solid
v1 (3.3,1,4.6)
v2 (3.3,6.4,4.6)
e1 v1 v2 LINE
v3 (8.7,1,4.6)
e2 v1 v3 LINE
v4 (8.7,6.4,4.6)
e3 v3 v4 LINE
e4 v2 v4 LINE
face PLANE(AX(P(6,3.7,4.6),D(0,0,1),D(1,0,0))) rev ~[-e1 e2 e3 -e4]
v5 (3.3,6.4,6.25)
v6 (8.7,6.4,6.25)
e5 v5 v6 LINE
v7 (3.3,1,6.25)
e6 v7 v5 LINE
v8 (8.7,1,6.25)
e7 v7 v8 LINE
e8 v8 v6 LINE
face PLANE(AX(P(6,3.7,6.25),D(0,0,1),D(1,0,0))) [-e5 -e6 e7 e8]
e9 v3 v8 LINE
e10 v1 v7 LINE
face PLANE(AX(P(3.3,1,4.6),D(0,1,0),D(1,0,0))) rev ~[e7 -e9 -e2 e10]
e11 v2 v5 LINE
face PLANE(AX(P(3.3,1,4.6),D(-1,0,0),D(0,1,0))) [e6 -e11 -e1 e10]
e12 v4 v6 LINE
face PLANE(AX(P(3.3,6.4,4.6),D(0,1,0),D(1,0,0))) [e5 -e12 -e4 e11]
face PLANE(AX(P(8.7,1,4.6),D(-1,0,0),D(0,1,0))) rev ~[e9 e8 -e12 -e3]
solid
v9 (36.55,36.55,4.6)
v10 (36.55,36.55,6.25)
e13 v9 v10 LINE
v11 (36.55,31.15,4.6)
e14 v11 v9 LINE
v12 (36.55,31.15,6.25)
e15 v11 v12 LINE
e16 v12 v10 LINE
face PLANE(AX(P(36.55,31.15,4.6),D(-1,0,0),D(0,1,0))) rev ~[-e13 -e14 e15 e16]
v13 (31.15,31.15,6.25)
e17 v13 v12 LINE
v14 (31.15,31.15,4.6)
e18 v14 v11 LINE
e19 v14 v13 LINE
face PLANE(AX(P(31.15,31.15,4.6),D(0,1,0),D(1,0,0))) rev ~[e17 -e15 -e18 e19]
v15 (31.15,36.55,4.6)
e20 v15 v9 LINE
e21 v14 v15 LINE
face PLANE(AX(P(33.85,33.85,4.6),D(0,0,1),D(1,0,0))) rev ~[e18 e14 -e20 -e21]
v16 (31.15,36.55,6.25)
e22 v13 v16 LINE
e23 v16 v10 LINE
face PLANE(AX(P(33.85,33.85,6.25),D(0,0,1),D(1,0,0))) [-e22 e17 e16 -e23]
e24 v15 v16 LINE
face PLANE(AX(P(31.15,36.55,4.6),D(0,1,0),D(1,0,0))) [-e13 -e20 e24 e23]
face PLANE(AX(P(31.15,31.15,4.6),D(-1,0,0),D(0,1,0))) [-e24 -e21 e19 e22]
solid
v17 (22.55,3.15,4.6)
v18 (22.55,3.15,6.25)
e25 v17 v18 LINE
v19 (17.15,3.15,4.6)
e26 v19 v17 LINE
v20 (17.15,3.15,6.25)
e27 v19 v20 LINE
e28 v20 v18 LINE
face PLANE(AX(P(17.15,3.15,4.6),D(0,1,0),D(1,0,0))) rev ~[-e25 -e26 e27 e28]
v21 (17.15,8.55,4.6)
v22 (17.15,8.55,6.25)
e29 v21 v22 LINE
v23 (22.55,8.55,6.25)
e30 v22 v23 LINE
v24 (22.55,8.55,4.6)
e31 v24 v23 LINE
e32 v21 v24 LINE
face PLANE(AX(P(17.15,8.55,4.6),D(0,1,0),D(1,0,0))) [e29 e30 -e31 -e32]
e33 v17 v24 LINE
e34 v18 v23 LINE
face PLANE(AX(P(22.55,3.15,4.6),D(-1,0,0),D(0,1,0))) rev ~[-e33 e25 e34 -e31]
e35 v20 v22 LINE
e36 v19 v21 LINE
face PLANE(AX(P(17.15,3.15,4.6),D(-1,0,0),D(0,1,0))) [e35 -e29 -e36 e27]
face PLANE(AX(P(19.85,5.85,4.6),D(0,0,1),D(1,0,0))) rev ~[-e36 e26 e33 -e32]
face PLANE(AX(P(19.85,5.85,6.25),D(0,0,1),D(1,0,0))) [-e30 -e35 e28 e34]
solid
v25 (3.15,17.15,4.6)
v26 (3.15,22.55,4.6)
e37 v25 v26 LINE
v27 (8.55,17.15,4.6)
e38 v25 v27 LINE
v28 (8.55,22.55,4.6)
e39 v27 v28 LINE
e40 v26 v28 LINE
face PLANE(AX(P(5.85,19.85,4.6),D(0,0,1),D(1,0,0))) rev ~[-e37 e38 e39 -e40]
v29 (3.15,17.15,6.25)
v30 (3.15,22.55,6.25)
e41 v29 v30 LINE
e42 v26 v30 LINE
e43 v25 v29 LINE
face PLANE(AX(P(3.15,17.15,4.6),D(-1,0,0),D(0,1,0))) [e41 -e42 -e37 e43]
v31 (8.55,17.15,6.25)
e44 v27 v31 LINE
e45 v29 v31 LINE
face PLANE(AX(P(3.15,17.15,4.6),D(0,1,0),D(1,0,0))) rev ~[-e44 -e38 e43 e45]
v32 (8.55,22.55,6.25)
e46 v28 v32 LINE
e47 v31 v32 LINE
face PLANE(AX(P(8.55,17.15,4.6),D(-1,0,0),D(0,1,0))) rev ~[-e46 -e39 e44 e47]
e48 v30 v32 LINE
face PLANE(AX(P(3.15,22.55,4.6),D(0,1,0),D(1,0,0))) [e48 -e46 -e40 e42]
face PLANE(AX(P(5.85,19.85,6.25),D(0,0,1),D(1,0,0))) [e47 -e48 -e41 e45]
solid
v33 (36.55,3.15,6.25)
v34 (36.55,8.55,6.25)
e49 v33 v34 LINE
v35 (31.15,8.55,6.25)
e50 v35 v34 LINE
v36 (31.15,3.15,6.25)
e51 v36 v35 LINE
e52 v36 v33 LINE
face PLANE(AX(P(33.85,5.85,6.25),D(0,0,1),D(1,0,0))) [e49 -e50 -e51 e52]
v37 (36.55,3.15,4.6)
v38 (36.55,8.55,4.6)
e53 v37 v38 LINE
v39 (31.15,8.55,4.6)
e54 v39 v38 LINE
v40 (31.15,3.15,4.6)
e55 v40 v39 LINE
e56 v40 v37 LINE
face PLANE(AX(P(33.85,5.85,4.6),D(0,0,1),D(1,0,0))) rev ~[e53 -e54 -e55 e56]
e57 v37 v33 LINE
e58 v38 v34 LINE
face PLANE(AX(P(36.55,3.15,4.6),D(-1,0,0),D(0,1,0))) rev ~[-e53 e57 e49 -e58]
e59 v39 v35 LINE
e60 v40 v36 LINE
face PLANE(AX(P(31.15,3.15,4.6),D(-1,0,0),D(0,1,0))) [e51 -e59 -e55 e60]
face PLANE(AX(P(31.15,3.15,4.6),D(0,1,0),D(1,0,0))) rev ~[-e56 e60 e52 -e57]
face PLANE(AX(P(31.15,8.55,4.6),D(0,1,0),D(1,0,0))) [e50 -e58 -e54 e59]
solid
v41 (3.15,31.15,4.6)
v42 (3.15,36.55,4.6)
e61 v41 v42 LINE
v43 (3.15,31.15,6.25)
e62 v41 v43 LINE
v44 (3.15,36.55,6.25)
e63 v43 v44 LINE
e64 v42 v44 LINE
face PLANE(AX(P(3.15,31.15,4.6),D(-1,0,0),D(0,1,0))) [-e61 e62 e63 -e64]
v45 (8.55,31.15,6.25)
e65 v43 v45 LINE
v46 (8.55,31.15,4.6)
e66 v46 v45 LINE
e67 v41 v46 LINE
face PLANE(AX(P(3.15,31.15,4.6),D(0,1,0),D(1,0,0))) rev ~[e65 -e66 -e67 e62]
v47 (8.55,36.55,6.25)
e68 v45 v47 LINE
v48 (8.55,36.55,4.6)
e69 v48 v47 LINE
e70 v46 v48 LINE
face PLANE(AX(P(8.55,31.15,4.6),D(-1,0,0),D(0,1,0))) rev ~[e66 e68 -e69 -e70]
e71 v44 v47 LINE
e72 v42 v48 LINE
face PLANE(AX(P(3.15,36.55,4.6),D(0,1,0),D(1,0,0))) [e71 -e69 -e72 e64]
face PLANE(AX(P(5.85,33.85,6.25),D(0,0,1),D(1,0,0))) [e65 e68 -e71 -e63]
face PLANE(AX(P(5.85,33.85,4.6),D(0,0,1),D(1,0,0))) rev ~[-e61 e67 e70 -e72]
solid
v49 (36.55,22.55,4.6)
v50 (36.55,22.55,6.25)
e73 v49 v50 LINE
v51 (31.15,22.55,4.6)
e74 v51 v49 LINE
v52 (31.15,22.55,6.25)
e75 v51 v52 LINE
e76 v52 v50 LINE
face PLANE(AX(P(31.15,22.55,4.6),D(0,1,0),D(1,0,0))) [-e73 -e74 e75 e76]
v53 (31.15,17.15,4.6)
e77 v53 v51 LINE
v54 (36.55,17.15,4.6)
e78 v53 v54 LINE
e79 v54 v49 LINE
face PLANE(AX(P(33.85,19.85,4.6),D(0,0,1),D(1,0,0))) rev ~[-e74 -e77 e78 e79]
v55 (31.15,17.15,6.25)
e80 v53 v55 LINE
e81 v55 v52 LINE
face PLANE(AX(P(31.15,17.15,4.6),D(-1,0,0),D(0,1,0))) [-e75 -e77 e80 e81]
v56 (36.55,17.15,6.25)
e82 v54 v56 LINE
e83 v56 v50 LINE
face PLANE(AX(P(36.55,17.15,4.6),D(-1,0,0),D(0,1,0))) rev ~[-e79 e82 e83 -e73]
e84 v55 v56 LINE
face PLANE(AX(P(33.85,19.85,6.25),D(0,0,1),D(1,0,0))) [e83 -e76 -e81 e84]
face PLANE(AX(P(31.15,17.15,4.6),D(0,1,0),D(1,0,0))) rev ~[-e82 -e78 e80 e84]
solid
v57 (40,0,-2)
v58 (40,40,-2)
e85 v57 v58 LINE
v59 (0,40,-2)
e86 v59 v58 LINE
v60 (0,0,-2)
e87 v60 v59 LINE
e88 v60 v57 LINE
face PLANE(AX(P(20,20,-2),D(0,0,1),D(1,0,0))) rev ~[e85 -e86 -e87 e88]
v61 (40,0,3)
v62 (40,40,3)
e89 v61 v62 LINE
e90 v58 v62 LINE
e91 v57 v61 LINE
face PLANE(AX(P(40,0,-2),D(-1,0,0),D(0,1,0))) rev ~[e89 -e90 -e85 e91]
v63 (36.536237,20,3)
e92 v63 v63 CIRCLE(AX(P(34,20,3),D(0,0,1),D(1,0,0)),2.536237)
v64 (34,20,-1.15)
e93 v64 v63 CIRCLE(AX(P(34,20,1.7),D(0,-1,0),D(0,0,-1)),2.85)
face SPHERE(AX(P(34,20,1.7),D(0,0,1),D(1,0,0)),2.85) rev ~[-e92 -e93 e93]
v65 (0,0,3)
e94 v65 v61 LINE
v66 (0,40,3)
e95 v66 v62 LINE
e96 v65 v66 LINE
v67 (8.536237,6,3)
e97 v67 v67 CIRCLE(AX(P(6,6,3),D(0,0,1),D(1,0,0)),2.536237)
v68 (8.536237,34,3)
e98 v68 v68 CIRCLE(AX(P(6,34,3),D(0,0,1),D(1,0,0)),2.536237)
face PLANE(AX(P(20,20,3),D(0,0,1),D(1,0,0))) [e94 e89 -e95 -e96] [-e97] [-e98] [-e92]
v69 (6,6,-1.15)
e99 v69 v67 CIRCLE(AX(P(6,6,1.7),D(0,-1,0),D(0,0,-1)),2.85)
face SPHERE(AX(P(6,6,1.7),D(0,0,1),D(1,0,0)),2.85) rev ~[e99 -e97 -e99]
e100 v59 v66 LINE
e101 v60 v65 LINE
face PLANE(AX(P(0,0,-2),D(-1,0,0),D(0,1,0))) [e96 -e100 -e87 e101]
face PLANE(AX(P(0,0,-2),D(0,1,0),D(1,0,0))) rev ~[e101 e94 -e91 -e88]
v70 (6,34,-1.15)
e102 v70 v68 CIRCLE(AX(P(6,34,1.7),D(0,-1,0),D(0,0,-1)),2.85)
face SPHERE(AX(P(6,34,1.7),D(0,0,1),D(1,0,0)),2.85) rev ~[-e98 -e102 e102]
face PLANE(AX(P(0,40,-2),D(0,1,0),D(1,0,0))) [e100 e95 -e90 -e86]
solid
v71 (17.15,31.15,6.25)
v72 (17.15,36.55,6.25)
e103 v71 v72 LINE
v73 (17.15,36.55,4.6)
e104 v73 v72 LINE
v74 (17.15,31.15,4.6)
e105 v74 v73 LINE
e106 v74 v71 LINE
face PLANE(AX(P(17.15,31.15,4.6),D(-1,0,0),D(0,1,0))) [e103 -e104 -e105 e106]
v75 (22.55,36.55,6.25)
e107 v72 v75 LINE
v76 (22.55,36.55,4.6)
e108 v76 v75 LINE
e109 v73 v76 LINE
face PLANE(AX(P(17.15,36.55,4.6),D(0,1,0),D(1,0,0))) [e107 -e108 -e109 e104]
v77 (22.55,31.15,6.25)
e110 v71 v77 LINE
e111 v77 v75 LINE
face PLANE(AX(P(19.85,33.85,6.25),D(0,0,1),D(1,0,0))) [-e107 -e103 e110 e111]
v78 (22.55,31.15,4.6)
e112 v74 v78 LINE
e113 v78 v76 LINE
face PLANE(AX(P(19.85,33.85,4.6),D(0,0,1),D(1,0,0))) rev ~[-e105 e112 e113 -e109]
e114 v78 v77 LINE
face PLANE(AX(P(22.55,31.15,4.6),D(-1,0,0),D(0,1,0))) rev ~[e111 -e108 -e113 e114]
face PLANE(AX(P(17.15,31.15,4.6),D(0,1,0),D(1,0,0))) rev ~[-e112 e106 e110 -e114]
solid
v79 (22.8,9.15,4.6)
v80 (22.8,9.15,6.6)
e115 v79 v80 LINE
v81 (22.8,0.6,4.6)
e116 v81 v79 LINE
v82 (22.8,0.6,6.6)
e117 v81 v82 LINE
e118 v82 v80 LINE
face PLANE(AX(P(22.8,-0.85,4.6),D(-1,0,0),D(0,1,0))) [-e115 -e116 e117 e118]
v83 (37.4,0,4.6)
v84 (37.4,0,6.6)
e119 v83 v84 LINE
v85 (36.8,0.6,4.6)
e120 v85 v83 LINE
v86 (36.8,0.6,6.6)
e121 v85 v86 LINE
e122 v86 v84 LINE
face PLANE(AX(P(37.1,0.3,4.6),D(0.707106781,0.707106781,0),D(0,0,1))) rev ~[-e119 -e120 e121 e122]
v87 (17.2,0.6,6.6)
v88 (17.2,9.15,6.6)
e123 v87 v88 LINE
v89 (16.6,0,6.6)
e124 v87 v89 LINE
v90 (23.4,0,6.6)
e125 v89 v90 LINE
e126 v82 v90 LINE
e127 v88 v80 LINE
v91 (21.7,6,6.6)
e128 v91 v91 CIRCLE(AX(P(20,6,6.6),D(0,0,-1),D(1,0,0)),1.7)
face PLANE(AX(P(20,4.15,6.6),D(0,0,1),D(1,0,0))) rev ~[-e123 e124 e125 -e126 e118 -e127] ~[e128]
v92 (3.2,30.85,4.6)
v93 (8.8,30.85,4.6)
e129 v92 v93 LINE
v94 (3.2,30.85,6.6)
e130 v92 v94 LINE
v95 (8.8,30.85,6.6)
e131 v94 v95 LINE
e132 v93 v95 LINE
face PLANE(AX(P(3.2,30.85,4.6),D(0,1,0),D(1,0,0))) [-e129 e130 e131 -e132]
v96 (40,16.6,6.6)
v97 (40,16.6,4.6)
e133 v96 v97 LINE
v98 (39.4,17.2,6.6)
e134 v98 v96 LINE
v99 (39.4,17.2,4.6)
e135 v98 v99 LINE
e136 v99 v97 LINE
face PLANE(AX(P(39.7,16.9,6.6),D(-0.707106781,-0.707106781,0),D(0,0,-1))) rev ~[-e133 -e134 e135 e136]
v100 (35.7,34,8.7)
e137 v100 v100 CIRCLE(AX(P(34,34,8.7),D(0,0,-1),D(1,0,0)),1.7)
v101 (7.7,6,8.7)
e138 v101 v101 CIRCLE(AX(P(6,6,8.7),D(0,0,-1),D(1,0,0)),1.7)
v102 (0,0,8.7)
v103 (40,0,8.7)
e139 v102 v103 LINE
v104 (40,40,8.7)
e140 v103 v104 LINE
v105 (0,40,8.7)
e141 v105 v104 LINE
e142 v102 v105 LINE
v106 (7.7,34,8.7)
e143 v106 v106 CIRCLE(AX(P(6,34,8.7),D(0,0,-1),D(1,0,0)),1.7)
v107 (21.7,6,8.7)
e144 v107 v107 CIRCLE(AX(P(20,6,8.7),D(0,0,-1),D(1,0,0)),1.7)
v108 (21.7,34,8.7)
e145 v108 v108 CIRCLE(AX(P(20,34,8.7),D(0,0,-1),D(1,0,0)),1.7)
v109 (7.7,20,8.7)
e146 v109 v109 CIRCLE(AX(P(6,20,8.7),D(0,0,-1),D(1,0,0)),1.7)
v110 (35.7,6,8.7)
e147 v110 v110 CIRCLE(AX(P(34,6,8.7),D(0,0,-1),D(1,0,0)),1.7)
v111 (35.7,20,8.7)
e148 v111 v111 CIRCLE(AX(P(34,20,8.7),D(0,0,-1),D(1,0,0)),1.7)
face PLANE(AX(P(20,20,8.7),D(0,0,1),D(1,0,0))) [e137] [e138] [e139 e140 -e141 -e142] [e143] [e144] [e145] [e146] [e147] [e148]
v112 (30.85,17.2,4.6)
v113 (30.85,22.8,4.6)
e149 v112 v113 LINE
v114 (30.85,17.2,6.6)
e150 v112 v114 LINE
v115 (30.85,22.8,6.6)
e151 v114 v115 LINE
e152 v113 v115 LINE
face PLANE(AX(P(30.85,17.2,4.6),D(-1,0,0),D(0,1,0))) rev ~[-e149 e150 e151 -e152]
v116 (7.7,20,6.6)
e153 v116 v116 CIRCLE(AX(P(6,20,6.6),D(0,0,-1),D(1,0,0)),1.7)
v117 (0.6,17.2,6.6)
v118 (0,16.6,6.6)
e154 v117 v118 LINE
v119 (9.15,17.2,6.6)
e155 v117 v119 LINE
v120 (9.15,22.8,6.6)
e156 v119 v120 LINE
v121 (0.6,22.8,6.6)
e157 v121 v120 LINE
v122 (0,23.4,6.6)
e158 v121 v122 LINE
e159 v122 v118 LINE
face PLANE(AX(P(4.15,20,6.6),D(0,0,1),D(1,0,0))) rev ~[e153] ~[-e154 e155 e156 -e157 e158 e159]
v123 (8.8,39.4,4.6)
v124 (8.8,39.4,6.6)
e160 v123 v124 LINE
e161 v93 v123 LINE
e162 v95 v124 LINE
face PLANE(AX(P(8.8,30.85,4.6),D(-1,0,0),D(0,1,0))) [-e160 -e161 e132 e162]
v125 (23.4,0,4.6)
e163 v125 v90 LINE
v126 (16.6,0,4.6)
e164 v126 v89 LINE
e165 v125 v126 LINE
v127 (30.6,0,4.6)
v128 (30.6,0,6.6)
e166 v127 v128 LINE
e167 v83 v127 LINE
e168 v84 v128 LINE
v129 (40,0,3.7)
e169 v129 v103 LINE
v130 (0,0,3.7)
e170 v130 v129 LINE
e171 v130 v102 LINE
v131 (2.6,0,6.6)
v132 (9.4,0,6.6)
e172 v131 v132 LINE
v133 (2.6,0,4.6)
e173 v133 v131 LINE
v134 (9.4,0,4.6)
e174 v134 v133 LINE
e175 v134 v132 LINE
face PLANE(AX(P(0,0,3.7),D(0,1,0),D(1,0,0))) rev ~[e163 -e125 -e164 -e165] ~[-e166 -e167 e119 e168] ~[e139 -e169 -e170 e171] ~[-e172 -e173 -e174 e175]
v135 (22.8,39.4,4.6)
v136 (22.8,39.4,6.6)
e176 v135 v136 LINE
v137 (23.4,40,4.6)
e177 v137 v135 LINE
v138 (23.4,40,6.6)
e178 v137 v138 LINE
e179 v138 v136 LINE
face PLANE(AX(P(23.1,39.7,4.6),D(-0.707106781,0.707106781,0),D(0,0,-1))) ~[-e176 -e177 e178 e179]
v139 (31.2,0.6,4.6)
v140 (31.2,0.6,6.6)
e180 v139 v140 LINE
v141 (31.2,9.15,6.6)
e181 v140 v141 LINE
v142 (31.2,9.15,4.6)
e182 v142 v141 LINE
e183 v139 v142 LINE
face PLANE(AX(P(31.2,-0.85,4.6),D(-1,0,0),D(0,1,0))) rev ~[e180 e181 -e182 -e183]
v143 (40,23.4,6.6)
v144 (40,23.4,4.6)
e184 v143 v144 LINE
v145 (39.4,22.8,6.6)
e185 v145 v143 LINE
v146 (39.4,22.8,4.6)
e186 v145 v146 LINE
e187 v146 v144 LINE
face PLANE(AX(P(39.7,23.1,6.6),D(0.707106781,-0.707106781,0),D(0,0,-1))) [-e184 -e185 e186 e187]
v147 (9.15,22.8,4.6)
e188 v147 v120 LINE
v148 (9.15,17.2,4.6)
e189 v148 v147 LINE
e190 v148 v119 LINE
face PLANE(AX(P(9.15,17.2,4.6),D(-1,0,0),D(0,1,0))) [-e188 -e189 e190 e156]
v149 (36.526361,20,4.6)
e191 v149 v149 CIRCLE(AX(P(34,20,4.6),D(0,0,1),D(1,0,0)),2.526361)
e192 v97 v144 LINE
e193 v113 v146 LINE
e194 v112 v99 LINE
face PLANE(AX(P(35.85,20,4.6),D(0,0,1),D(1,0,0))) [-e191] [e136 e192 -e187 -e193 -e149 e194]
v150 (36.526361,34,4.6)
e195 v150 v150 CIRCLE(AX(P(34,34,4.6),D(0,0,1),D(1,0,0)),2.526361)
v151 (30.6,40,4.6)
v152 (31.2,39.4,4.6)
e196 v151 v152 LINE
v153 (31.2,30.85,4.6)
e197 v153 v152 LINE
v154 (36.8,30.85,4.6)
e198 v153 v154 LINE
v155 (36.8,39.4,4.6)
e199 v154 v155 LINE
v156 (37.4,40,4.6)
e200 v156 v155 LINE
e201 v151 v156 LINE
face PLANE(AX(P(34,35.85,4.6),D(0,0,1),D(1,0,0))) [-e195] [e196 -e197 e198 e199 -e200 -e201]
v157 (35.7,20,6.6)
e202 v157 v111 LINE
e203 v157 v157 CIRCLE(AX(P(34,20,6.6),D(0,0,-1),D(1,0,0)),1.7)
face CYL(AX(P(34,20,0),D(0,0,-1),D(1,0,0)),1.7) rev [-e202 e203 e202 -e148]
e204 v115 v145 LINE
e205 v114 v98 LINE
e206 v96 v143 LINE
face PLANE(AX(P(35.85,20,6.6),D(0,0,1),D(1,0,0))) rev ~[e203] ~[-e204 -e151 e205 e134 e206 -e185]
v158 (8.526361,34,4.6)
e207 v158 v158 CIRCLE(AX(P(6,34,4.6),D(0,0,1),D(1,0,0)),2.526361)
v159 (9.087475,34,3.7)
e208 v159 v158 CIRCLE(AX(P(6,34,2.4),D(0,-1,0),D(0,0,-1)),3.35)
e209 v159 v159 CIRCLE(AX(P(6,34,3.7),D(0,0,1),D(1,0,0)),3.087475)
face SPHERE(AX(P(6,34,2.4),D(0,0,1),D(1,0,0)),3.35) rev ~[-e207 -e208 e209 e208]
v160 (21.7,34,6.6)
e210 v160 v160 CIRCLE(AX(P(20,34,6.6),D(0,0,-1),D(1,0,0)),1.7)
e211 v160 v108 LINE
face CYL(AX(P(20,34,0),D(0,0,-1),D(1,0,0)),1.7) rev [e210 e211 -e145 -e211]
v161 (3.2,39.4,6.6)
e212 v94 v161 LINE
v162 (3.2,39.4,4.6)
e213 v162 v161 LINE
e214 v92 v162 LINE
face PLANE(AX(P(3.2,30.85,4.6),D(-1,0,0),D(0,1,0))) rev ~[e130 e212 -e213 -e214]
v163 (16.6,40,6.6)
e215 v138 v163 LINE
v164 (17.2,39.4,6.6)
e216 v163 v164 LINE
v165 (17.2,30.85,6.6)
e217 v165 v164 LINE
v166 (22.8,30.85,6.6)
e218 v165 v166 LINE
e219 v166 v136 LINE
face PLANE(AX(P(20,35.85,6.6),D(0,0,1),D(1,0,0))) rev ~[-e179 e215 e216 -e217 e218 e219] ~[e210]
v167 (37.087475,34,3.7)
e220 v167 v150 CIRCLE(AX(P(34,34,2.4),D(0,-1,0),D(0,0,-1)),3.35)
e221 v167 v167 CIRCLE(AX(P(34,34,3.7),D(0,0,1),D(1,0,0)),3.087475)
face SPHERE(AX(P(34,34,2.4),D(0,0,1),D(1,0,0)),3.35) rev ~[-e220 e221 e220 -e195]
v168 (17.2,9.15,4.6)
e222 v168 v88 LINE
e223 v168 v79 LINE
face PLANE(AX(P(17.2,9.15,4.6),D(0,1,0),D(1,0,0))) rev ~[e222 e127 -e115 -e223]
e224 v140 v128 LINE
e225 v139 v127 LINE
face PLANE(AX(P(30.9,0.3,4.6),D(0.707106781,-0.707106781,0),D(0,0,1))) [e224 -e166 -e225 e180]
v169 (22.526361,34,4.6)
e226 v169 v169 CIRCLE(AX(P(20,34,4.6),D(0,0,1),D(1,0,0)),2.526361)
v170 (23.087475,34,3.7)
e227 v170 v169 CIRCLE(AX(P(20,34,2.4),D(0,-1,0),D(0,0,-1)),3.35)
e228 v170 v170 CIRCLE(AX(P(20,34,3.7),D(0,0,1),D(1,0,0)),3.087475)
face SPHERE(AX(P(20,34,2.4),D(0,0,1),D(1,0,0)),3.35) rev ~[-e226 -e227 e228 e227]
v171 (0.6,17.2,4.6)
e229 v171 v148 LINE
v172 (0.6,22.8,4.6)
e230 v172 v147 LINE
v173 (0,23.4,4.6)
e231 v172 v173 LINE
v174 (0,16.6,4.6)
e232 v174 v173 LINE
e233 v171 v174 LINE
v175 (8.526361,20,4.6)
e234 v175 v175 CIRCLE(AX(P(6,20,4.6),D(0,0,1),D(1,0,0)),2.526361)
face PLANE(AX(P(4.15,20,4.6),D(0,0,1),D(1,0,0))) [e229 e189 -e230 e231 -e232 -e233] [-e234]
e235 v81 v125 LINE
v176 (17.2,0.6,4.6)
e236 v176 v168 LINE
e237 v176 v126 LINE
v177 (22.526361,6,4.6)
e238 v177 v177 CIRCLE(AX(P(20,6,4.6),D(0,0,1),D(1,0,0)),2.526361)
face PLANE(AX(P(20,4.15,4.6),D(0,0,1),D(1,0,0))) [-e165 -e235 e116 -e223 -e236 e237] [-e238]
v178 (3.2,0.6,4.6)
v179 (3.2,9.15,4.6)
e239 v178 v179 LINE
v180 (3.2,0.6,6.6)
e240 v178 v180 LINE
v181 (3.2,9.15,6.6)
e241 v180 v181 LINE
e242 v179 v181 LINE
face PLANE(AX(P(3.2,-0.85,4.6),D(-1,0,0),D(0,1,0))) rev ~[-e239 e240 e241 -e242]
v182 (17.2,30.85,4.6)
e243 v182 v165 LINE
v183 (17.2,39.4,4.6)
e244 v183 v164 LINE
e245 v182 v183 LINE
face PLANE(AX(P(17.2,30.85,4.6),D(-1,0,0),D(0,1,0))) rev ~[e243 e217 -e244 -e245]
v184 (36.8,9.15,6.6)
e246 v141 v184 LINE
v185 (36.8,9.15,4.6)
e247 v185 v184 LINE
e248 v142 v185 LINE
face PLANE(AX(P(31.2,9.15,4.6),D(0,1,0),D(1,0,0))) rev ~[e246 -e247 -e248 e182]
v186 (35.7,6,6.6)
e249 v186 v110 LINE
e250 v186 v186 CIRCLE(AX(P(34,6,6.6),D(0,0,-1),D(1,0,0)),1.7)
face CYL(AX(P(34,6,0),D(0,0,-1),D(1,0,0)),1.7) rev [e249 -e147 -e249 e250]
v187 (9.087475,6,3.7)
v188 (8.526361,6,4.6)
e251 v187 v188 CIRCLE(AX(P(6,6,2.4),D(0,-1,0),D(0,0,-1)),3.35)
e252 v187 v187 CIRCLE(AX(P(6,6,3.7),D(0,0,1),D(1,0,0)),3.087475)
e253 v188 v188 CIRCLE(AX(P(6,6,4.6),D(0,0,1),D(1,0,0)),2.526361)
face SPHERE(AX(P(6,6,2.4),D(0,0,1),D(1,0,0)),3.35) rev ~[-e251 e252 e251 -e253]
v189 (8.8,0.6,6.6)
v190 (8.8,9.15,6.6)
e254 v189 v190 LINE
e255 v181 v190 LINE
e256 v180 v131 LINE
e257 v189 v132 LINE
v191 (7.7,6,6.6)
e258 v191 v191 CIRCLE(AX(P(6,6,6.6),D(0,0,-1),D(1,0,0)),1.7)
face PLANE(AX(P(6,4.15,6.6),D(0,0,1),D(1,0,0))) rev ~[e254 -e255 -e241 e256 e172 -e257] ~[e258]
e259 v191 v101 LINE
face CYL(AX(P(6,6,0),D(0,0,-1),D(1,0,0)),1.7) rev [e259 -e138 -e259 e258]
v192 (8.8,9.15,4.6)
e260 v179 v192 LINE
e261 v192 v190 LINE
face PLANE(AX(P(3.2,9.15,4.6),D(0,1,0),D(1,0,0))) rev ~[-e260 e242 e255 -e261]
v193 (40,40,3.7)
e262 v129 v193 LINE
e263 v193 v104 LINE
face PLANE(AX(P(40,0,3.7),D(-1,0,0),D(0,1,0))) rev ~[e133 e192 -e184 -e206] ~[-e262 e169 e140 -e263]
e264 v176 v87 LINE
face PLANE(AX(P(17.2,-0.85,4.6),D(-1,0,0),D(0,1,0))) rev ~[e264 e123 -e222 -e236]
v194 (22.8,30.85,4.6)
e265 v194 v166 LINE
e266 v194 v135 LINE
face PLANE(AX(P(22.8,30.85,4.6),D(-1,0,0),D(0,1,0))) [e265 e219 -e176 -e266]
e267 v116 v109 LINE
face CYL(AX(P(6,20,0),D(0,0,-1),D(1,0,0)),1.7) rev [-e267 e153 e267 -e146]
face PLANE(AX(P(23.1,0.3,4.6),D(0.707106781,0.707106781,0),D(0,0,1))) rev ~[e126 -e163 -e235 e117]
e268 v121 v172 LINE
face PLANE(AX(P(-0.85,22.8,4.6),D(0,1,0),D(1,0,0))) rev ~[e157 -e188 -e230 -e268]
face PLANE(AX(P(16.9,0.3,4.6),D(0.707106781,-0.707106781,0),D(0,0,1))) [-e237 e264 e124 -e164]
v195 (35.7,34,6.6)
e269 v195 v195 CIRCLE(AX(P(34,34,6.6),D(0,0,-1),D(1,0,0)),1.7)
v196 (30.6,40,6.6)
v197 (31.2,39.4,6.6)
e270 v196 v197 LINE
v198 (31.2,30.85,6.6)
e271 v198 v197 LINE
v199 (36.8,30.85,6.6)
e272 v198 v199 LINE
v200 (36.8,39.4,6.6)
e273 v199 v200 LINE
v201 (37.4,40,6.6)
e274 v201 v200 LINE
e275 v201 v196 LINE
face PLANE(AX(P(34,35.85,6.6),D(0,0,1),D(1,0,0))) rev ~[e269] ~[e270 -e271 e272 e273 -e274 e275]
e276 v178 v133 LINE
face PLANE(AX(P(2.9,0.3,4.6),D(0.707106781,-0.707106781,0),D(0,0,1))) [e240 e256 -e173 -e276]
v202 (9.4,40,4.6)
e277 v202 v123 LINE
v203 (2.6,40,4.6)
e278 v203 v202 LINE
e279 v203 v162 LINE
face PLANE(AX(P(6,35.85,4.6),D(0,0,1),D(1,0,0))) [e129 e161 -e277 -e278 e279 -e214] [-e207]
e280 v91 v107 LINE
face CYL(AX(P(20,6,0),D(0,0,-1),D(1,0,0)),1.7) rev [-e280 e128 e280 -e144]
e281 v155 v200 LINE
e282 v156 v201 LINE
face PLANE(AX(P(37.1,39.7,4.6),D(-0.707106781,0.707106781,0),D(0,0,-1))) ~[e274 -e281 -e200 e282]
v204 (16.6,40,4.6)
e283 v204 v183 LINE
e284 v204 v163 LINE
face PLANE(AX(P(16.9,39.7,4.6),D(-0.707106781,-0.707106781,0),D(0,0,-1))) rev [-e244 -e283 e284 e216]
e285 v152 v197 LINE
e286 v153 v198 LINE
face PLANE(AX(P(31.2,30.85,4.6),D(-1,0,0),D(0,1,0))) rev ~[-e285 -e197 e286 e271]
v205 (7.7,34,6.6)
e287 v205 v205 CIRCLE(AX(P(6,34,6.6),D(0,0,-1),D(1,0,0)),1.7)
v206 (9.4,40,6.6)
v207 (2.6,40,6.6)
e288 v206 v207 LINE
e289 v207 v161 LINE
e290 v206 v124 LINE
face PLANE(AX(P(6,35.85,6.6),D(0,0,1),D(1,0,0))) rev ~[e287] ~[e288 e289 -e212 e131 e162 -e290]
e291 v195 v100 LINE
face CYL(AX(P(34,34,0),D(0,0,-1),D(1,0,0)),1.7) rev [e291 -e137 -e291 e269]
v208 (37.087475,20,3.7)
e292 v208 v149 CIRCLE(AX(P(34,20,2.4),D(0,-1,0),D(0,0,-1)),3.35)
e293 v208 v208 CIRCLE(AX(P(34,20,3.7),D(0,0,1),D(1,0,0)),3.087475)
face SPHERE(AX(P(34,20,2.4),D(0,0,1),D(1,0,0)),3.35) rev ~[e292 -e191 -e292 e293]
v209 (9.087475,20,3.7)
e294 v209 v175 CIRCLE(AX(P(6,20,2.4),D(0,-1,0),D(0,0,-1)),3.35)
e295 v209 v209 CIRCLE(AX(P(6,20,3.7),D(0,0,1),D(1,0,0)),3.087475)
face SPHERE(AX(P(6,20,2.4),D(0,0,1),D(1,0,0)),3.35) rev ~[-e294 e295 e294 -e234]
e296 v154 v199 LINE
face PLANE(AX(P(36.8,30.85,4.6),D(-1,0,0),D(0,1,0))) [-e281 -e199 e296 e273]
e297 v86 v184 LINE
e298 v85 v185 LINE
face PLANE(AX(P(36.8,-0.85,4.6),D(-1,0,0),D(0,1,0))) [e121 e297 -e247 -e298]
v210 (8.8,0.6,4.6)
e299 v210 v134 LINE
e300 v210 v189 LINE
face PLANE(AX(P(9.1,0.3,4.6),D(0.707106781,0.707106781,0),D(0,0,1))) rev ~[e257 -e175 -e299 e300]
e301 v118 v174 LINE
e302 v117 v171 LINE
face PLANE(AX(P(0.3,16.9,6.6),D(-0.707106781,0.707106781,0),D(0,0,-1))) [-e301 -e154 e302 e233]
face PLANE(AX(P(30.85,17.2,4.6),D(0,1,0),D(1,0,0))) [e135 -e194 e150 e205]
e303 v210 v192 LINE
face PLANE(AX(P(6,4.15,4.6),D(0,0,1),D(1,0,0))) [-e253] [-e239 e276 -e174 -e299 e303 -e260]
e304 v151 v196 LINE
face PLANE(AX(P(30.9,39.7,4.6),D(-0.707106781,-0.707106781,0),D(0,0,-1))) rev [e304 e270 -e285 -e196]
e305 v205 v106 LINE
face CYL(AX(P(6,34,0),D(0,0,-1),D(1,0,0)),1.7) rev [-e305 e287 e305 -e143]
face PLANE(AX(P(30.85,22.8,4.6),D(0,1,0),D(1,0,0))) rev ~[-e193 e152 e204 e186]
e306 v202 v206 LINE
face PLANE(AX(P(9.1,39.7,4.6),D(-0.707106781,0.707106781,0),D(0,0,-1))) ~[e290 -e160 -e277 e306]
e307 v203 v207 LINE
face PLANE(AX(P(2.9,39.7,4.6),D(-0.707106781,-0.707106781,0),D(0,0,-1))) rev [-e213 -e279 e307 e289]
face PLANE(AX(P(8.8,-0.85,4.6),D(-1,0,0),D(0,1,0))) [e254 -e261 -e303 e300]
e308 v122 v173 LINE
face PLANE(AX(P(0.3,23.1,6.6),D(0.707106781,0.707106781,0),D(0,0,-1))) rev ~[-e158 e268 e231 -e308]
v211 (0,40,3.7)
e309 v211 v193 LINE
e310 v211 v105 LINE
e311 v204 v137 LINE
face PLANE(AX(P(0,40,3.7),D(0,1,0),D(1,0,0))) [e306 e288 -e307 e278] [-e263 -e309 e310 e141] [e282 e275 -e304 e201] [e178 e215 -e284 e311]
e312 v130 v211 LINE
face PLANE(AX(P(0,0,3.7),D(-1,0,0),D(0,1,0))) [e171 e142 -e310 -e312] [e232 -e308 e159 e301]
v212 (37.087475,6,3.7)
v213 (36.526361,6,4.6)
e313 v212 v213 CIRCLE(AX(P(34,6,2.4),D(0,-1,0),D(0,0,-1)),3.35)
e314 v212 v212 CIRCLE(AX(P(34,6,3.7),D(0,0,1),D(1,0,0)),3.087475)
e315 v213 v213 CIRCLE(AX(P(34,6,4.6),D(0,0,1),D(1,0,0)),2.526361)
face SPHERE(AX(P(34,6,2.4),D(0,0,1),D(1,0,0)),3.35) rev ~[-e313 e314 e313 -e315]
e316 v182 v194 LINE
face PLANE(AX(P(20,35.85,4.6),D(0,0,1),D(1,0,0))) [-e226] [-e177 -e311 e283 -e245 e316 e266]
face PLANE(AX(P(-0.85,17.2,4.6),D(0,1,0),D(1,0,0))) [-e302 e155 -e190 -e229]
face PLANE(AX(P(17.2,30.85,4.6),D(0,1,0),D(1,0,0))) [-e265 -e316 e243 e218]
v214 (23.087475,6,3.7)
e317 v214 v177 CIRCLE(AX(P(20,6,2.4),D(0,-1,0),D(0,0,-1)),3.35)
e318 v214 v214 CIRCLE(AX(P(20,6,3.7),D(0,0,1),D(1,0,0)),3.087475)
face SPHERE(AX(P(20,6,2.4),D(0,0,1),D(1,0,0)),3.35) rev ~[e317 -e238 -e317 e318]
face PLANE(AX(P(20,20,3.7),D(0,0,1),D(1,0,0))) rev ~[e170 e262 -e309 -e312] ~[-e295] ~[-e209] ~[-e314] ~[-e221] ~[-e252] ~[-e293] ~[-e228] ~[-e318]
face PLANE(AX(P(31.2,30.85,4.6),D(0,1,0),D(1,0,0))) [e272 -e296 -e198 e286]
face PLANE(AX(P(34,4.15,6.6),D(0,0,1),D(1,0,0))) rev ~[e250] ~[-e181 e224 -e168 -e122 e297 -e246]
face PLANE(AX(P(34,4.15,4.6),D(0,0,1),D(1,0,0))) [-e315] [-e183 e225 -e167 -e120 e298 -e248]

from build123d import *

# Parameters (mm, degrees)
BOX007_W          = 5.4
BOX007_H          = 5.4
BOX007_DEPTH      = 1.65
BOX006_W          = 5.4
BOX006_H          = 5.4
BOX006_DEPTH      = 1.65
BOX003_W          = 5.4
BOX003_H          = 5.4
BOX003_DEPTH      = 1.65
BOX005_W          = 5.4
BOX005_H          = 5.4
BOX005_DEPTH      = 1.65
BOX009_W          = 5.4
BOX009_H          = 5.4
BOX009_DEPTH      = 1.65
BOX010_W          = 5.4
BOX010_H          = 5.4
BOX010_DEPTH      = 1.65
BOX002_W          = 5.4
BOX002_H          = 5.4
BOX002_DEPTH      = 1.65
BOX008_W          = 5.4
BOX008_H          = 5.4
BOX008_DEPTH      = 1.65
BOX_W             = 40
BOX_H             = 40
BOX_DEPTH         = 5
CYLINDER004_R     = 1.7
CYLINDER004_DEPTH = 10
CYLINDER007_R     = 1.7
CYLINDER007_DEPTH = 10
CYLINDER005_R     = 1.7
CYLINDER005_DEPTH = 10
CYLINDER006_R     = 1.7
CYLINDER006_DEPTH = 10
CYLINDER001_R     = 1.7
CYLINDER001_DEPTH = 10
CYLINDER002_R     = 1.7
CYLINDER002_DEPTH = 10
CYLINDER003_R     = 1.7
CYLINDER003_DEPTH = 10
CYLINDER_R        = 1.7
CYLINDER_DEPTH    = 10
BOX014_W          = 10
BOX014_H          = 5.6
BOX014_DEPTH      = 2
BOX016_W          = 5.6
BOX016_H          = 10
BOX016_DEPTH      = 2
BOX012_W          = 5.6
BOX012_H          = 10
BOX012_DEPTH      = 2
BOX017_W          = 10
BOX017_H          = 5.6
BOX017_DEPTH      = 2
BOX015_W          = 5.6
BOX015_H          = 10
BOX015_DEPTH      = 2
BOX018_W          = 5.6
BOX018_H          = 10
BOX018_DEPTH      = 2
BOX011_W          = 5.6
BOX011_H          = 10
BOX011_DEPTH      = 2
BOX013_W          = 5.6
BOX013_H          = 10
BOX013_DEPTH      = 2
BOX001_W          = 40
BOX001_H          = 40
BOX001_DEPTH      = 5
CHAMFER_SIZE      = 0.6
CHAMFER001_SIZE   = 0.6
CHAMFER002_SIZE   = 0.6
CHAMFER003_SIZE   = 0.6


with BuildPart() as square_nut004:
    # Box007 → Box007 (new body)
    with BuildSketch(Plane(origin=(17.15, 31.15, 4.6), x_dir=(1, 0, 0), z_dir=(0, 0, 1))):
        with Locations((2.7, 2.7)):
            Rectangle(BOX007_W, BOX007_H)
    extrude(amount=BOX007_DEPTH)


with BuildPart() as square_nut003:
    # Box006 → Box006 (new body)
    with BuildSketch(Plane(origin=(17.15, 3.15, 4.6), x_dir=(1, 0, 0), z_dir=(0, 0, 1))):
        with Locations((2.7, 2.7)):
            Rectangle(BOX006_W, BOX006_H)
    extrude(amount=BOX006_DEPTH)


with BuildPart() as square_nut001:
    # Box003 → Box003 (new body)
    with BuildSketch(Plane(origin=(31.15, 17.15, 4.6), x_dir=(1, 0, 0), z_dir=(0, 0, 1))):
        with Locations((2.7, 2.7)):
            Rectangle(BOX003_W, BOX003_H)
    extrude(amount=BOX003_DEPTH)


with BuildPart() as square_nut002:
    # Box005 → Box005 (new body)
    with BuildSketch(Plane(origin=(3.15, 31.15, 4.6), x_dir=(1, 0, 0), z_dir=(0, 0, 1))):
        with Locations((2.7, 2.7)):
            Rectangle(BOX005_W, BOX005_H)
    extrude(amount=BOX005_DEPTH)


with BuildPart() as square_nut006:
    # Box009 → Box009 (new body)
    with BuildSketch(Plane(origin=(31.15, 31.15, 4.6), x_dir=(1, 0, 0), z_dir=(0, 0, 1))):
        with Locations((2.7, 2.7)):
            Rectangle(BOX009_W, BOX009_H)
    extrude(amount=BOX009_DEPTH)


with BuildPart() as square_nut007:
    # Box010 → Box010 (new body)
    with BuildSketch(Plane(origin=(3.15, 17.15, 4.6), x_dir=(1, 0, 0), z_dir=(0, 0, 1))):
        with Locations((2.7, 2.7)):
            Rectangle(BOX010_W, BOX010_H)
    extrude(amount=BOX010_DEPTH)


with BuildPart() as square_nut:
    # Box002 → Box002 (new body)
    with BuildSketch(Plane(origin=(3.3, 1, 4.6), x_dir=(1, 0, 0), z_dir=(0, 0, 1))):
        with Locations((2.7, 2.7)):
            Rectangle(BOX002_W, BOX002_H)
    extrude(amount=BOX002_DEPTH)


with BuildPart() as square_nuts:
    # Box008 → Box008 (new body)
    with BuildSketch(Plane(origin=(31.15, 3.15, 4.6), x_dir=(1, 0, 0), z_dir=(0, 0, 1))):
        with Locations((2.7, 2.7)):
            Rectangle(BOX008_W, BOX008_H)
    extrude(amount=BOX008_DEPTH)

    # Fusion: union Square Nut004, Square Nut003, Square Nut001, Square Nut002, Square Nut006, Square Nut007, Square Nut
    add(square_nut004.part)
    add(square_nut003.part)
    add(square_nut001.part)
    add(square_nut002.part)
    add(square_nut006.part)
    add(square_nut007.part)
    add(square_nut.part)


with BuildPart() as sphere005:
    # Sphere005 → Sphere005 (revolve)
    with BuildSketch(Plane(origin=(34, 20, 1.7), x_dir=(1, 0, 0), z_dir=(0, -1, 0))):
        with BuildLine():
            ThreePointArc((0, -2.85), (2.85, 0), (0, 2.85))
            Line((0, 2.85), (0, -2.85))
        make_face()
    revolve(axis=Axis((34, 20, 1.7), (0, 0, 1)))


with BuildPart() as sphere003:
    # Sphere003 → Sphere003 (revolve)
    with BuildSketch(Plane(origin=(6, 34, 1.7), x_dir=(1, 0, 0), z_dir=(0, -1, 0))):
        with BuildLine():
            ThreePointArc((0, -2.85), (2.85, 0), (0, 2.85))
            Line((0, 2.85), (0, -2.85))
        make_face()
    revolve(axis=Axis((6, 34, 1.7), (0, 0, 1)))


with BuildPart() as fusion004:
    # Sphere → Sphere (revolve)
    with BuildSketch(Plane(origin=(6, 6, 1.7), x_dir=(1, 0, 0), z_dir=(0, -1, 0))):
        with BuildLine():
            ThreePointArc((0, -2.85), (2.85, 0), (0, 2.85))
            Line((0, 2.85), (0, -2.85))
        make_face()
    revolve(axis=Axis((6, 6, 1.7), (0, 0, 1)))

    # Fusion004: union Sphere005, Sphere003
    add(sphere005.part)
    add(sphere003.part)


with BuildPart() as cut003:
    # Box → Box (new body)
    with BuildSketch(Plane.XY.offset(-2)):
        with Locations((20, 20)):
            Rectangle(BOX_W, BOX_H)
    extrude(amount=BOX_DEPTH)

    # Cut003: cut Fusion004
    add(fusion004.part, mode=Mode.SUBTRACT)


with BuildPart() as cylinder004:
    # Cylinder004 → Cylinder004 (new body)
    with BuildSketch(Plane(origin=(20, 34, 0), x_dir=(1, 0, 0), z_dir=(0, 0, 1))):
        Circle(CYLINDER004_R)
    extrude(amount=CYLINDER004_DEPTH)


with BuildPart() as cylinder007:
    # Cylinder007 → Cylinder007 (new body)
    with BuildSketch(Plane(origin=(34, 20, 0), x_dir=(1, 0, 0), z_dir=(0, 0, 1))):
        Circle(CYLINDER007_R)
    extrude(amount=CYLINDER007_DEPTH)


with BuildPart() as cylinder005:
    # Cylinder005 → Cylinder005 (new body)
    with BuildSketch(Plane(origin=(6, 34, 0), x_dir=(1, 0, 0), z_dir=(0, 0, 1))):
        Circle(CYLINDER005_R)
    extrude(amount=CYLINDER005_DEPTH)


with BuildPart() as cylinder006:
    # Cylinder006 → Cylinder006 (new body)
    with BuildSketch(Plane(origin=(6, 20, 0), x_dir=(1, 0, 0), z_dir=(0, 0, 1))):
        Circle(CYLINDER006_R)
    extrude(amount=CYLINDER006_DEPTH)


with BuildPart() as cylinder001:
    # Cylinder001 → Cylinder001 (new body)
    with BuildSketch(Plane(origin=(20, 6, 0), x_dir=(1, 0, 0), z_dir=(0, 0, 1))):
        Circle(CYLINDER001_R)
    extrude(amount=CYLINDER001_DEPTH)


with BuildPart() as cylinder002:
    # Cylinder002 → Cylinder002 (new body)
    with BuildSketch(Plane(origin=(34, 6, 0), x_dir=(1, 0, 0), z_dir=(0, 0, 1))):
        Circle(CYLINDER002_R)
    extrude(amount=CYLINDER002_DEPTH)


with BuildPart() as cylinder003:
    # Cylinder003 → Cylinder003 (new body)
    with BuildSketch(Plane(origin=(34, 34, 0), x_dir=(1, 0, 0), z_dir=(0, 0, 1))):
        Circle(CYLINDER003_R)
    extrude(amount=CYLINDER003_DEPTH)


with BuildPart() as fusion002:
    # Cylinder → Cylinder (new body)
    with BuildSketch(Plane(origin=(6, 6, 0), x_dir=(1, 0, 0), z_dir=(0, 0, 1))):
        Circle(CYLINDER_R)
    extrude(amount=CYLINDER_DEPTH)

    # Fusion002: union Cylinder004, Cylinder007, Cylinder005, Cylinder006, Cylinder001, Cylinder002, Cylinder003
    add(cylinder004.part)
    add(cylinder007.part)
    add(cylinder005.part)
    add(cylinder006.part)
    add(cylinder001.part)
    add(cylinder002.part)
    add(cylinder003.part)


with BuildPart() as sphere008:
    # Sphere008 → Sphere008 (revolve)
    with BuildSketch(Plane(origin=(6, 34, 2.4), x_dir=(1, 0, 0), z_dir=(0, -1, 0))):
        with BuildLine():
            ThreePointArc((0, -3.35), (3.35, 0), (0, 3.35))
            Line((0, 3.35), (0, -3.35))
        make_face()
    revolve(axis=Axis((6, 34, 2.4), (0, 0, 1)))


with BuildPart() as nut_clearence1:
    # Sphere006 → Sphere006 (revolve)
    with BuildSketch(Plane(origin=(6, 6, 2.4), x_dir=(1, 0, 0), z_dir=(0, -1, 0))):
        with BuildLine():
            ThreePointArc((0, -3.35), (3.35, 0), (0, 3.35))
            Line((0, 3.35), (0, -3.35))
        make_face()
    revolve(axis=Axis((6, 6, 2.4), (0, 0, 1)))


with BuildPart() as sphere009:
    # Sphere009 → Sphere009 (revolve)
    with BuildSketch(Plane(origin=(20, 6, 2.4), x_dir=(1, 0, 0), z_dir=(0, -1, 0))):
        with BuildLine():
            ThreePointArc((0, -3.35), (3.35, 0), (0, 3.35))
            Line((0, 3.35), (0, -3.35))
        make_face()
    revolve(axis=Axis((20, 6, 2.4), (0, 0, 1)))


with BuildPart() as sphere001:
    # Sphere001 → Sphere001 (revolve)
    with BuildSketch(Plane(origin=(34, 6, 2.4), x_dir=(1, 0, 0), z_dir=(0, -1, 0))):
        with BuildLine():
            ThreePointArc((0, -3.35), (3.35, 0), (0, 3.35))
            Line((0, 3.35), (0, -3.35))
        make_face()
    revolve(axis=Axis((34, 6, 2.4), (0, 0, 1)))


with BuildPart() as sphere010:
    # Sphere010 → Sphere010 (revolve)
    with BuildSketch(Plane(origin=(20, 34, 2.4), x_dir=(1, 0, 0), z_dir=(0, -1, 0))):
        with BuildLine():
            ThreePointArc((0, -3.35), (3.35, 0), (0, 3.35))
            Line((0, 3.35), (0, -3.35))
        make_face()
    revolve(axis=Axis((20, 34, 2.4), (0, 0, 1)))


with BuildPart() as sphere004:
    # Sphere004 → Sphere004 (revolve)
    with BuildSketch(Plane(origin=(6, 20, 2.4), x_dir=(1, 0, 0), z_dir=(0, -1, 0))):
        with BuildLine():
            ThreePointArc((0, -3.35), (3.35, 0), (0, 3.35))
            Line((0, 3.35), (0, -3.35))
        make_face()
    revolve(axis=Axis((6, 20, 2.4), (0, 0, 1)))


with BuildPart() as sphere002:
    # Sphere002 → Sphere002 (revolve)
    with BuildSketch(Plane(origin=(34, 34, 2.4), x_dir=(1, 0, 0), z_dir=(0, -1, 0))):
        with BuildLine():
            ThreePointArc((0, -3.35), (3.35, 0), (0, 3.35))
            Line((0, 3.35), (0, -3.35))
        make_face()
    revolve(axis=Axis((34, 34, 2.4), (0, 0, 1)))


with BuildPart() as fusion003:
    # Sphere007 → Sphere007 (revolve)
    with BuildSketch(Plane(origin=(34, 20, 2.4), x_dir=(1, 0, 0), z_dir=(0, -1, 0))):
        with BuildLine():
            ThreePointArc((0, -3.35), (3.35, 0), (0, 3.35))
            Line((0, 3.35), (0, -3.35))
        make_face()
    revolve(axis=Axis((34, 20, 2.4), (0, 0, 1)))

    # Fusion003: union Sphere008, Nut Clearence1, Sphere009, Sphere001, Sphere010, Sphere004, Sphere002
    add(sphere008.part)
    add(nut_clearence1.part)
    add(sphere009.part)
    add(sphere001.part)
    add(sphere010.part)
    add(sphere004.part)
    add(sphere002.part)


with BuildPart() as box014:
    # Box014 → Box014 (new body)
    with BuildSketch(Plane(origin=(30.85, 17.2, 4.6), x_dir=(1, 0, 0), z_dir=(0, 0, 1))):
        with Locations((5, 2.8)):
            Rectangle(BOX014_W, BOX014_H)
    extrude(amount=BOX014_DEPTH)


with BuildPart() as box016:
    # Box016 → Box016 (new body)
    with BuildSketch(Plane(origin=(31.2, 30.85, 4.6), x_dir=(1, 0, 0), z_dir=(0, 0, 1))):
        with Locations((2.8, 5)):
            Rectangle(BOX016_W, BOX016_H)
    extrude(amount=BOX016_DEPTH)


with BuildPart() as box012:
    # Box012 → Box012 (new body)
    with BuildSketch(Plane(origin=(17.2, -0.85, 4.6), x_dir=(1, 0, 0), z_dir=(0, 0, 1))):
        with Locations((2.8, 5)):
            Rectangle(BOX012_W, BOX012_H)
    extrude(amount=BOX012_DEPTH)


with BuildPart() as box017:
    # Box017 → Box017 (new body)
    with BuildSketch(Plane(origin=(-0.85, 17.2, 4.6), x_dir=(1, 0, 0), z_dir=(0, 0, 1))):
        with Locations((5, 2.8)):
            Rectangle(BOX017_W, BOX017_H)
    extrude(amount=BOX017_DEPTH)


with BuildPart() as box015:
    # Box015 → Box015 (new body)
    with BuildSketch(Plane(origin=(3.2, 30.85, 4.6), x_dir=(1, 0, 0), z_dir=(0, 0, 1))):
        with Locations((2.8, 5)):
            Rectangle(BOX015_W, BOX015_H)
    extrude(amount=BOX015_DEPTH)


with BuildPart() as box018:
    # Box018 → Box018 (new body)
    with BuildSketch(Plane(origin=(3.2, -0.85, 4.6), x_dir=(1, 0, 0), z_dir=(0, 0, 1))):
        with Locations((2.8, 5)):
            Rectangle(BOX018_W, BOX018_H)
    extrude(amount=BOX018_DEPTH)


with BuildPart() as box011:
    # Box011 → Box011 (new body)
    with BuildSketch(Plane(origin=(17.2, 30.85, 4.6), x_dir=(1, 0, 0), z_dir=(0, 0, 1))):
        with Locations((2.8, 5)):
            Rectangle(BOX011_W, BOX011_H)
    extrude(amount=BOX011_DEPTH)


with BuildPart() as square_nut_hole:
    # Box013 → Box013 (new body)
    with BuildSketch(Plane(origin=(31.2, -0.85, 4.6), x_dir=(1, 0, 0), z_dir=(0, 0, 1))):
        with Locations((2.8, 5)):
            Rectangle(BOX013_W, BOX013_H)
    extrude(amount=BOX013_DEPTH)

    # Fusion001: union Box014, Box016, Box012, Box017, Box015, Box018, Box011
    add(box014.part)
    add(box016.part)
    add(box012.part)
    add(box017.part)
    add(box015.part)
    add(box018.part)
    add(box011.part)


with BuildPart() as chamfer003:
    # Box001 → Box001 (new body)
    with BuildSketch(Plane.XY.offset(3.7)):
        with Locations((20, 20)):
            Rectangle(BOX001_W, BOX001_H)
    extrude(amount=BOX001_DEPTH)

    # Cut: cut Square Nut Hole
    add(square_nut_hole.part, mode=Mode.SUBTRACT)

    # Cut001: cut Fusion003
    add(fusion003.part, mode=Mode.SUBTRACT)

    # Cut002: cut Fusion002
    add(fusion002.part, mode=Mode.SUBTRACT)

    # Chamfer
    chamfer_edges = [chamfer003.edges().sort_by_distance(p)[0] for p in [
        (36.8, 40, 5.6),
    ]]
    chamfer(chamfer_edges, length=CHAMFER_SIZE)

    # Chamfer001
    chamfer001_edges = [chamfer003.edges().sort_by_distance(p)[0] for p in [
        (31.2, 40, 5.6),
        (22.8, 40, 5.6),
        (17.2, 40, 5.6),
        (8.8, 40, 5.6),
        (3.2, 40, 5.6),
    ]]
    chamfer(chamfer001_edges, length=CHAMFER001_SIZE)

    # Chamfer002
    chamfer002_edges = [chamfer003.edges().sort_by_distance(p)[0] for p in [
        (40, 22.8, 5.6),
        (40, 17.2, 5.6),
        (0, 22.8, 5.6),
        (0, 17.2, 5.6),
    ]]
    chamfer(chamfer002_edges, length=CHAMFER002_SIZE)

    # Chamfer003
    chamfer003_edges = [chamfer003.edges().sort_by_distance(p)[0] for p in [
        (8.8, 0, 5.6),
        (3.2, 0, 5.6),
        (22.8, 0, 5.6),
        (17.2, 0, 5.6),
        (36.8, 0, 5.6),
        (31.2, 0, 5.6),
    ]]
    chamfer(chamfer003_edges, length=CHAMFER003_SIZE)


solid = Compound([square_nuts.part, cut003.part, chamfer003.part])
